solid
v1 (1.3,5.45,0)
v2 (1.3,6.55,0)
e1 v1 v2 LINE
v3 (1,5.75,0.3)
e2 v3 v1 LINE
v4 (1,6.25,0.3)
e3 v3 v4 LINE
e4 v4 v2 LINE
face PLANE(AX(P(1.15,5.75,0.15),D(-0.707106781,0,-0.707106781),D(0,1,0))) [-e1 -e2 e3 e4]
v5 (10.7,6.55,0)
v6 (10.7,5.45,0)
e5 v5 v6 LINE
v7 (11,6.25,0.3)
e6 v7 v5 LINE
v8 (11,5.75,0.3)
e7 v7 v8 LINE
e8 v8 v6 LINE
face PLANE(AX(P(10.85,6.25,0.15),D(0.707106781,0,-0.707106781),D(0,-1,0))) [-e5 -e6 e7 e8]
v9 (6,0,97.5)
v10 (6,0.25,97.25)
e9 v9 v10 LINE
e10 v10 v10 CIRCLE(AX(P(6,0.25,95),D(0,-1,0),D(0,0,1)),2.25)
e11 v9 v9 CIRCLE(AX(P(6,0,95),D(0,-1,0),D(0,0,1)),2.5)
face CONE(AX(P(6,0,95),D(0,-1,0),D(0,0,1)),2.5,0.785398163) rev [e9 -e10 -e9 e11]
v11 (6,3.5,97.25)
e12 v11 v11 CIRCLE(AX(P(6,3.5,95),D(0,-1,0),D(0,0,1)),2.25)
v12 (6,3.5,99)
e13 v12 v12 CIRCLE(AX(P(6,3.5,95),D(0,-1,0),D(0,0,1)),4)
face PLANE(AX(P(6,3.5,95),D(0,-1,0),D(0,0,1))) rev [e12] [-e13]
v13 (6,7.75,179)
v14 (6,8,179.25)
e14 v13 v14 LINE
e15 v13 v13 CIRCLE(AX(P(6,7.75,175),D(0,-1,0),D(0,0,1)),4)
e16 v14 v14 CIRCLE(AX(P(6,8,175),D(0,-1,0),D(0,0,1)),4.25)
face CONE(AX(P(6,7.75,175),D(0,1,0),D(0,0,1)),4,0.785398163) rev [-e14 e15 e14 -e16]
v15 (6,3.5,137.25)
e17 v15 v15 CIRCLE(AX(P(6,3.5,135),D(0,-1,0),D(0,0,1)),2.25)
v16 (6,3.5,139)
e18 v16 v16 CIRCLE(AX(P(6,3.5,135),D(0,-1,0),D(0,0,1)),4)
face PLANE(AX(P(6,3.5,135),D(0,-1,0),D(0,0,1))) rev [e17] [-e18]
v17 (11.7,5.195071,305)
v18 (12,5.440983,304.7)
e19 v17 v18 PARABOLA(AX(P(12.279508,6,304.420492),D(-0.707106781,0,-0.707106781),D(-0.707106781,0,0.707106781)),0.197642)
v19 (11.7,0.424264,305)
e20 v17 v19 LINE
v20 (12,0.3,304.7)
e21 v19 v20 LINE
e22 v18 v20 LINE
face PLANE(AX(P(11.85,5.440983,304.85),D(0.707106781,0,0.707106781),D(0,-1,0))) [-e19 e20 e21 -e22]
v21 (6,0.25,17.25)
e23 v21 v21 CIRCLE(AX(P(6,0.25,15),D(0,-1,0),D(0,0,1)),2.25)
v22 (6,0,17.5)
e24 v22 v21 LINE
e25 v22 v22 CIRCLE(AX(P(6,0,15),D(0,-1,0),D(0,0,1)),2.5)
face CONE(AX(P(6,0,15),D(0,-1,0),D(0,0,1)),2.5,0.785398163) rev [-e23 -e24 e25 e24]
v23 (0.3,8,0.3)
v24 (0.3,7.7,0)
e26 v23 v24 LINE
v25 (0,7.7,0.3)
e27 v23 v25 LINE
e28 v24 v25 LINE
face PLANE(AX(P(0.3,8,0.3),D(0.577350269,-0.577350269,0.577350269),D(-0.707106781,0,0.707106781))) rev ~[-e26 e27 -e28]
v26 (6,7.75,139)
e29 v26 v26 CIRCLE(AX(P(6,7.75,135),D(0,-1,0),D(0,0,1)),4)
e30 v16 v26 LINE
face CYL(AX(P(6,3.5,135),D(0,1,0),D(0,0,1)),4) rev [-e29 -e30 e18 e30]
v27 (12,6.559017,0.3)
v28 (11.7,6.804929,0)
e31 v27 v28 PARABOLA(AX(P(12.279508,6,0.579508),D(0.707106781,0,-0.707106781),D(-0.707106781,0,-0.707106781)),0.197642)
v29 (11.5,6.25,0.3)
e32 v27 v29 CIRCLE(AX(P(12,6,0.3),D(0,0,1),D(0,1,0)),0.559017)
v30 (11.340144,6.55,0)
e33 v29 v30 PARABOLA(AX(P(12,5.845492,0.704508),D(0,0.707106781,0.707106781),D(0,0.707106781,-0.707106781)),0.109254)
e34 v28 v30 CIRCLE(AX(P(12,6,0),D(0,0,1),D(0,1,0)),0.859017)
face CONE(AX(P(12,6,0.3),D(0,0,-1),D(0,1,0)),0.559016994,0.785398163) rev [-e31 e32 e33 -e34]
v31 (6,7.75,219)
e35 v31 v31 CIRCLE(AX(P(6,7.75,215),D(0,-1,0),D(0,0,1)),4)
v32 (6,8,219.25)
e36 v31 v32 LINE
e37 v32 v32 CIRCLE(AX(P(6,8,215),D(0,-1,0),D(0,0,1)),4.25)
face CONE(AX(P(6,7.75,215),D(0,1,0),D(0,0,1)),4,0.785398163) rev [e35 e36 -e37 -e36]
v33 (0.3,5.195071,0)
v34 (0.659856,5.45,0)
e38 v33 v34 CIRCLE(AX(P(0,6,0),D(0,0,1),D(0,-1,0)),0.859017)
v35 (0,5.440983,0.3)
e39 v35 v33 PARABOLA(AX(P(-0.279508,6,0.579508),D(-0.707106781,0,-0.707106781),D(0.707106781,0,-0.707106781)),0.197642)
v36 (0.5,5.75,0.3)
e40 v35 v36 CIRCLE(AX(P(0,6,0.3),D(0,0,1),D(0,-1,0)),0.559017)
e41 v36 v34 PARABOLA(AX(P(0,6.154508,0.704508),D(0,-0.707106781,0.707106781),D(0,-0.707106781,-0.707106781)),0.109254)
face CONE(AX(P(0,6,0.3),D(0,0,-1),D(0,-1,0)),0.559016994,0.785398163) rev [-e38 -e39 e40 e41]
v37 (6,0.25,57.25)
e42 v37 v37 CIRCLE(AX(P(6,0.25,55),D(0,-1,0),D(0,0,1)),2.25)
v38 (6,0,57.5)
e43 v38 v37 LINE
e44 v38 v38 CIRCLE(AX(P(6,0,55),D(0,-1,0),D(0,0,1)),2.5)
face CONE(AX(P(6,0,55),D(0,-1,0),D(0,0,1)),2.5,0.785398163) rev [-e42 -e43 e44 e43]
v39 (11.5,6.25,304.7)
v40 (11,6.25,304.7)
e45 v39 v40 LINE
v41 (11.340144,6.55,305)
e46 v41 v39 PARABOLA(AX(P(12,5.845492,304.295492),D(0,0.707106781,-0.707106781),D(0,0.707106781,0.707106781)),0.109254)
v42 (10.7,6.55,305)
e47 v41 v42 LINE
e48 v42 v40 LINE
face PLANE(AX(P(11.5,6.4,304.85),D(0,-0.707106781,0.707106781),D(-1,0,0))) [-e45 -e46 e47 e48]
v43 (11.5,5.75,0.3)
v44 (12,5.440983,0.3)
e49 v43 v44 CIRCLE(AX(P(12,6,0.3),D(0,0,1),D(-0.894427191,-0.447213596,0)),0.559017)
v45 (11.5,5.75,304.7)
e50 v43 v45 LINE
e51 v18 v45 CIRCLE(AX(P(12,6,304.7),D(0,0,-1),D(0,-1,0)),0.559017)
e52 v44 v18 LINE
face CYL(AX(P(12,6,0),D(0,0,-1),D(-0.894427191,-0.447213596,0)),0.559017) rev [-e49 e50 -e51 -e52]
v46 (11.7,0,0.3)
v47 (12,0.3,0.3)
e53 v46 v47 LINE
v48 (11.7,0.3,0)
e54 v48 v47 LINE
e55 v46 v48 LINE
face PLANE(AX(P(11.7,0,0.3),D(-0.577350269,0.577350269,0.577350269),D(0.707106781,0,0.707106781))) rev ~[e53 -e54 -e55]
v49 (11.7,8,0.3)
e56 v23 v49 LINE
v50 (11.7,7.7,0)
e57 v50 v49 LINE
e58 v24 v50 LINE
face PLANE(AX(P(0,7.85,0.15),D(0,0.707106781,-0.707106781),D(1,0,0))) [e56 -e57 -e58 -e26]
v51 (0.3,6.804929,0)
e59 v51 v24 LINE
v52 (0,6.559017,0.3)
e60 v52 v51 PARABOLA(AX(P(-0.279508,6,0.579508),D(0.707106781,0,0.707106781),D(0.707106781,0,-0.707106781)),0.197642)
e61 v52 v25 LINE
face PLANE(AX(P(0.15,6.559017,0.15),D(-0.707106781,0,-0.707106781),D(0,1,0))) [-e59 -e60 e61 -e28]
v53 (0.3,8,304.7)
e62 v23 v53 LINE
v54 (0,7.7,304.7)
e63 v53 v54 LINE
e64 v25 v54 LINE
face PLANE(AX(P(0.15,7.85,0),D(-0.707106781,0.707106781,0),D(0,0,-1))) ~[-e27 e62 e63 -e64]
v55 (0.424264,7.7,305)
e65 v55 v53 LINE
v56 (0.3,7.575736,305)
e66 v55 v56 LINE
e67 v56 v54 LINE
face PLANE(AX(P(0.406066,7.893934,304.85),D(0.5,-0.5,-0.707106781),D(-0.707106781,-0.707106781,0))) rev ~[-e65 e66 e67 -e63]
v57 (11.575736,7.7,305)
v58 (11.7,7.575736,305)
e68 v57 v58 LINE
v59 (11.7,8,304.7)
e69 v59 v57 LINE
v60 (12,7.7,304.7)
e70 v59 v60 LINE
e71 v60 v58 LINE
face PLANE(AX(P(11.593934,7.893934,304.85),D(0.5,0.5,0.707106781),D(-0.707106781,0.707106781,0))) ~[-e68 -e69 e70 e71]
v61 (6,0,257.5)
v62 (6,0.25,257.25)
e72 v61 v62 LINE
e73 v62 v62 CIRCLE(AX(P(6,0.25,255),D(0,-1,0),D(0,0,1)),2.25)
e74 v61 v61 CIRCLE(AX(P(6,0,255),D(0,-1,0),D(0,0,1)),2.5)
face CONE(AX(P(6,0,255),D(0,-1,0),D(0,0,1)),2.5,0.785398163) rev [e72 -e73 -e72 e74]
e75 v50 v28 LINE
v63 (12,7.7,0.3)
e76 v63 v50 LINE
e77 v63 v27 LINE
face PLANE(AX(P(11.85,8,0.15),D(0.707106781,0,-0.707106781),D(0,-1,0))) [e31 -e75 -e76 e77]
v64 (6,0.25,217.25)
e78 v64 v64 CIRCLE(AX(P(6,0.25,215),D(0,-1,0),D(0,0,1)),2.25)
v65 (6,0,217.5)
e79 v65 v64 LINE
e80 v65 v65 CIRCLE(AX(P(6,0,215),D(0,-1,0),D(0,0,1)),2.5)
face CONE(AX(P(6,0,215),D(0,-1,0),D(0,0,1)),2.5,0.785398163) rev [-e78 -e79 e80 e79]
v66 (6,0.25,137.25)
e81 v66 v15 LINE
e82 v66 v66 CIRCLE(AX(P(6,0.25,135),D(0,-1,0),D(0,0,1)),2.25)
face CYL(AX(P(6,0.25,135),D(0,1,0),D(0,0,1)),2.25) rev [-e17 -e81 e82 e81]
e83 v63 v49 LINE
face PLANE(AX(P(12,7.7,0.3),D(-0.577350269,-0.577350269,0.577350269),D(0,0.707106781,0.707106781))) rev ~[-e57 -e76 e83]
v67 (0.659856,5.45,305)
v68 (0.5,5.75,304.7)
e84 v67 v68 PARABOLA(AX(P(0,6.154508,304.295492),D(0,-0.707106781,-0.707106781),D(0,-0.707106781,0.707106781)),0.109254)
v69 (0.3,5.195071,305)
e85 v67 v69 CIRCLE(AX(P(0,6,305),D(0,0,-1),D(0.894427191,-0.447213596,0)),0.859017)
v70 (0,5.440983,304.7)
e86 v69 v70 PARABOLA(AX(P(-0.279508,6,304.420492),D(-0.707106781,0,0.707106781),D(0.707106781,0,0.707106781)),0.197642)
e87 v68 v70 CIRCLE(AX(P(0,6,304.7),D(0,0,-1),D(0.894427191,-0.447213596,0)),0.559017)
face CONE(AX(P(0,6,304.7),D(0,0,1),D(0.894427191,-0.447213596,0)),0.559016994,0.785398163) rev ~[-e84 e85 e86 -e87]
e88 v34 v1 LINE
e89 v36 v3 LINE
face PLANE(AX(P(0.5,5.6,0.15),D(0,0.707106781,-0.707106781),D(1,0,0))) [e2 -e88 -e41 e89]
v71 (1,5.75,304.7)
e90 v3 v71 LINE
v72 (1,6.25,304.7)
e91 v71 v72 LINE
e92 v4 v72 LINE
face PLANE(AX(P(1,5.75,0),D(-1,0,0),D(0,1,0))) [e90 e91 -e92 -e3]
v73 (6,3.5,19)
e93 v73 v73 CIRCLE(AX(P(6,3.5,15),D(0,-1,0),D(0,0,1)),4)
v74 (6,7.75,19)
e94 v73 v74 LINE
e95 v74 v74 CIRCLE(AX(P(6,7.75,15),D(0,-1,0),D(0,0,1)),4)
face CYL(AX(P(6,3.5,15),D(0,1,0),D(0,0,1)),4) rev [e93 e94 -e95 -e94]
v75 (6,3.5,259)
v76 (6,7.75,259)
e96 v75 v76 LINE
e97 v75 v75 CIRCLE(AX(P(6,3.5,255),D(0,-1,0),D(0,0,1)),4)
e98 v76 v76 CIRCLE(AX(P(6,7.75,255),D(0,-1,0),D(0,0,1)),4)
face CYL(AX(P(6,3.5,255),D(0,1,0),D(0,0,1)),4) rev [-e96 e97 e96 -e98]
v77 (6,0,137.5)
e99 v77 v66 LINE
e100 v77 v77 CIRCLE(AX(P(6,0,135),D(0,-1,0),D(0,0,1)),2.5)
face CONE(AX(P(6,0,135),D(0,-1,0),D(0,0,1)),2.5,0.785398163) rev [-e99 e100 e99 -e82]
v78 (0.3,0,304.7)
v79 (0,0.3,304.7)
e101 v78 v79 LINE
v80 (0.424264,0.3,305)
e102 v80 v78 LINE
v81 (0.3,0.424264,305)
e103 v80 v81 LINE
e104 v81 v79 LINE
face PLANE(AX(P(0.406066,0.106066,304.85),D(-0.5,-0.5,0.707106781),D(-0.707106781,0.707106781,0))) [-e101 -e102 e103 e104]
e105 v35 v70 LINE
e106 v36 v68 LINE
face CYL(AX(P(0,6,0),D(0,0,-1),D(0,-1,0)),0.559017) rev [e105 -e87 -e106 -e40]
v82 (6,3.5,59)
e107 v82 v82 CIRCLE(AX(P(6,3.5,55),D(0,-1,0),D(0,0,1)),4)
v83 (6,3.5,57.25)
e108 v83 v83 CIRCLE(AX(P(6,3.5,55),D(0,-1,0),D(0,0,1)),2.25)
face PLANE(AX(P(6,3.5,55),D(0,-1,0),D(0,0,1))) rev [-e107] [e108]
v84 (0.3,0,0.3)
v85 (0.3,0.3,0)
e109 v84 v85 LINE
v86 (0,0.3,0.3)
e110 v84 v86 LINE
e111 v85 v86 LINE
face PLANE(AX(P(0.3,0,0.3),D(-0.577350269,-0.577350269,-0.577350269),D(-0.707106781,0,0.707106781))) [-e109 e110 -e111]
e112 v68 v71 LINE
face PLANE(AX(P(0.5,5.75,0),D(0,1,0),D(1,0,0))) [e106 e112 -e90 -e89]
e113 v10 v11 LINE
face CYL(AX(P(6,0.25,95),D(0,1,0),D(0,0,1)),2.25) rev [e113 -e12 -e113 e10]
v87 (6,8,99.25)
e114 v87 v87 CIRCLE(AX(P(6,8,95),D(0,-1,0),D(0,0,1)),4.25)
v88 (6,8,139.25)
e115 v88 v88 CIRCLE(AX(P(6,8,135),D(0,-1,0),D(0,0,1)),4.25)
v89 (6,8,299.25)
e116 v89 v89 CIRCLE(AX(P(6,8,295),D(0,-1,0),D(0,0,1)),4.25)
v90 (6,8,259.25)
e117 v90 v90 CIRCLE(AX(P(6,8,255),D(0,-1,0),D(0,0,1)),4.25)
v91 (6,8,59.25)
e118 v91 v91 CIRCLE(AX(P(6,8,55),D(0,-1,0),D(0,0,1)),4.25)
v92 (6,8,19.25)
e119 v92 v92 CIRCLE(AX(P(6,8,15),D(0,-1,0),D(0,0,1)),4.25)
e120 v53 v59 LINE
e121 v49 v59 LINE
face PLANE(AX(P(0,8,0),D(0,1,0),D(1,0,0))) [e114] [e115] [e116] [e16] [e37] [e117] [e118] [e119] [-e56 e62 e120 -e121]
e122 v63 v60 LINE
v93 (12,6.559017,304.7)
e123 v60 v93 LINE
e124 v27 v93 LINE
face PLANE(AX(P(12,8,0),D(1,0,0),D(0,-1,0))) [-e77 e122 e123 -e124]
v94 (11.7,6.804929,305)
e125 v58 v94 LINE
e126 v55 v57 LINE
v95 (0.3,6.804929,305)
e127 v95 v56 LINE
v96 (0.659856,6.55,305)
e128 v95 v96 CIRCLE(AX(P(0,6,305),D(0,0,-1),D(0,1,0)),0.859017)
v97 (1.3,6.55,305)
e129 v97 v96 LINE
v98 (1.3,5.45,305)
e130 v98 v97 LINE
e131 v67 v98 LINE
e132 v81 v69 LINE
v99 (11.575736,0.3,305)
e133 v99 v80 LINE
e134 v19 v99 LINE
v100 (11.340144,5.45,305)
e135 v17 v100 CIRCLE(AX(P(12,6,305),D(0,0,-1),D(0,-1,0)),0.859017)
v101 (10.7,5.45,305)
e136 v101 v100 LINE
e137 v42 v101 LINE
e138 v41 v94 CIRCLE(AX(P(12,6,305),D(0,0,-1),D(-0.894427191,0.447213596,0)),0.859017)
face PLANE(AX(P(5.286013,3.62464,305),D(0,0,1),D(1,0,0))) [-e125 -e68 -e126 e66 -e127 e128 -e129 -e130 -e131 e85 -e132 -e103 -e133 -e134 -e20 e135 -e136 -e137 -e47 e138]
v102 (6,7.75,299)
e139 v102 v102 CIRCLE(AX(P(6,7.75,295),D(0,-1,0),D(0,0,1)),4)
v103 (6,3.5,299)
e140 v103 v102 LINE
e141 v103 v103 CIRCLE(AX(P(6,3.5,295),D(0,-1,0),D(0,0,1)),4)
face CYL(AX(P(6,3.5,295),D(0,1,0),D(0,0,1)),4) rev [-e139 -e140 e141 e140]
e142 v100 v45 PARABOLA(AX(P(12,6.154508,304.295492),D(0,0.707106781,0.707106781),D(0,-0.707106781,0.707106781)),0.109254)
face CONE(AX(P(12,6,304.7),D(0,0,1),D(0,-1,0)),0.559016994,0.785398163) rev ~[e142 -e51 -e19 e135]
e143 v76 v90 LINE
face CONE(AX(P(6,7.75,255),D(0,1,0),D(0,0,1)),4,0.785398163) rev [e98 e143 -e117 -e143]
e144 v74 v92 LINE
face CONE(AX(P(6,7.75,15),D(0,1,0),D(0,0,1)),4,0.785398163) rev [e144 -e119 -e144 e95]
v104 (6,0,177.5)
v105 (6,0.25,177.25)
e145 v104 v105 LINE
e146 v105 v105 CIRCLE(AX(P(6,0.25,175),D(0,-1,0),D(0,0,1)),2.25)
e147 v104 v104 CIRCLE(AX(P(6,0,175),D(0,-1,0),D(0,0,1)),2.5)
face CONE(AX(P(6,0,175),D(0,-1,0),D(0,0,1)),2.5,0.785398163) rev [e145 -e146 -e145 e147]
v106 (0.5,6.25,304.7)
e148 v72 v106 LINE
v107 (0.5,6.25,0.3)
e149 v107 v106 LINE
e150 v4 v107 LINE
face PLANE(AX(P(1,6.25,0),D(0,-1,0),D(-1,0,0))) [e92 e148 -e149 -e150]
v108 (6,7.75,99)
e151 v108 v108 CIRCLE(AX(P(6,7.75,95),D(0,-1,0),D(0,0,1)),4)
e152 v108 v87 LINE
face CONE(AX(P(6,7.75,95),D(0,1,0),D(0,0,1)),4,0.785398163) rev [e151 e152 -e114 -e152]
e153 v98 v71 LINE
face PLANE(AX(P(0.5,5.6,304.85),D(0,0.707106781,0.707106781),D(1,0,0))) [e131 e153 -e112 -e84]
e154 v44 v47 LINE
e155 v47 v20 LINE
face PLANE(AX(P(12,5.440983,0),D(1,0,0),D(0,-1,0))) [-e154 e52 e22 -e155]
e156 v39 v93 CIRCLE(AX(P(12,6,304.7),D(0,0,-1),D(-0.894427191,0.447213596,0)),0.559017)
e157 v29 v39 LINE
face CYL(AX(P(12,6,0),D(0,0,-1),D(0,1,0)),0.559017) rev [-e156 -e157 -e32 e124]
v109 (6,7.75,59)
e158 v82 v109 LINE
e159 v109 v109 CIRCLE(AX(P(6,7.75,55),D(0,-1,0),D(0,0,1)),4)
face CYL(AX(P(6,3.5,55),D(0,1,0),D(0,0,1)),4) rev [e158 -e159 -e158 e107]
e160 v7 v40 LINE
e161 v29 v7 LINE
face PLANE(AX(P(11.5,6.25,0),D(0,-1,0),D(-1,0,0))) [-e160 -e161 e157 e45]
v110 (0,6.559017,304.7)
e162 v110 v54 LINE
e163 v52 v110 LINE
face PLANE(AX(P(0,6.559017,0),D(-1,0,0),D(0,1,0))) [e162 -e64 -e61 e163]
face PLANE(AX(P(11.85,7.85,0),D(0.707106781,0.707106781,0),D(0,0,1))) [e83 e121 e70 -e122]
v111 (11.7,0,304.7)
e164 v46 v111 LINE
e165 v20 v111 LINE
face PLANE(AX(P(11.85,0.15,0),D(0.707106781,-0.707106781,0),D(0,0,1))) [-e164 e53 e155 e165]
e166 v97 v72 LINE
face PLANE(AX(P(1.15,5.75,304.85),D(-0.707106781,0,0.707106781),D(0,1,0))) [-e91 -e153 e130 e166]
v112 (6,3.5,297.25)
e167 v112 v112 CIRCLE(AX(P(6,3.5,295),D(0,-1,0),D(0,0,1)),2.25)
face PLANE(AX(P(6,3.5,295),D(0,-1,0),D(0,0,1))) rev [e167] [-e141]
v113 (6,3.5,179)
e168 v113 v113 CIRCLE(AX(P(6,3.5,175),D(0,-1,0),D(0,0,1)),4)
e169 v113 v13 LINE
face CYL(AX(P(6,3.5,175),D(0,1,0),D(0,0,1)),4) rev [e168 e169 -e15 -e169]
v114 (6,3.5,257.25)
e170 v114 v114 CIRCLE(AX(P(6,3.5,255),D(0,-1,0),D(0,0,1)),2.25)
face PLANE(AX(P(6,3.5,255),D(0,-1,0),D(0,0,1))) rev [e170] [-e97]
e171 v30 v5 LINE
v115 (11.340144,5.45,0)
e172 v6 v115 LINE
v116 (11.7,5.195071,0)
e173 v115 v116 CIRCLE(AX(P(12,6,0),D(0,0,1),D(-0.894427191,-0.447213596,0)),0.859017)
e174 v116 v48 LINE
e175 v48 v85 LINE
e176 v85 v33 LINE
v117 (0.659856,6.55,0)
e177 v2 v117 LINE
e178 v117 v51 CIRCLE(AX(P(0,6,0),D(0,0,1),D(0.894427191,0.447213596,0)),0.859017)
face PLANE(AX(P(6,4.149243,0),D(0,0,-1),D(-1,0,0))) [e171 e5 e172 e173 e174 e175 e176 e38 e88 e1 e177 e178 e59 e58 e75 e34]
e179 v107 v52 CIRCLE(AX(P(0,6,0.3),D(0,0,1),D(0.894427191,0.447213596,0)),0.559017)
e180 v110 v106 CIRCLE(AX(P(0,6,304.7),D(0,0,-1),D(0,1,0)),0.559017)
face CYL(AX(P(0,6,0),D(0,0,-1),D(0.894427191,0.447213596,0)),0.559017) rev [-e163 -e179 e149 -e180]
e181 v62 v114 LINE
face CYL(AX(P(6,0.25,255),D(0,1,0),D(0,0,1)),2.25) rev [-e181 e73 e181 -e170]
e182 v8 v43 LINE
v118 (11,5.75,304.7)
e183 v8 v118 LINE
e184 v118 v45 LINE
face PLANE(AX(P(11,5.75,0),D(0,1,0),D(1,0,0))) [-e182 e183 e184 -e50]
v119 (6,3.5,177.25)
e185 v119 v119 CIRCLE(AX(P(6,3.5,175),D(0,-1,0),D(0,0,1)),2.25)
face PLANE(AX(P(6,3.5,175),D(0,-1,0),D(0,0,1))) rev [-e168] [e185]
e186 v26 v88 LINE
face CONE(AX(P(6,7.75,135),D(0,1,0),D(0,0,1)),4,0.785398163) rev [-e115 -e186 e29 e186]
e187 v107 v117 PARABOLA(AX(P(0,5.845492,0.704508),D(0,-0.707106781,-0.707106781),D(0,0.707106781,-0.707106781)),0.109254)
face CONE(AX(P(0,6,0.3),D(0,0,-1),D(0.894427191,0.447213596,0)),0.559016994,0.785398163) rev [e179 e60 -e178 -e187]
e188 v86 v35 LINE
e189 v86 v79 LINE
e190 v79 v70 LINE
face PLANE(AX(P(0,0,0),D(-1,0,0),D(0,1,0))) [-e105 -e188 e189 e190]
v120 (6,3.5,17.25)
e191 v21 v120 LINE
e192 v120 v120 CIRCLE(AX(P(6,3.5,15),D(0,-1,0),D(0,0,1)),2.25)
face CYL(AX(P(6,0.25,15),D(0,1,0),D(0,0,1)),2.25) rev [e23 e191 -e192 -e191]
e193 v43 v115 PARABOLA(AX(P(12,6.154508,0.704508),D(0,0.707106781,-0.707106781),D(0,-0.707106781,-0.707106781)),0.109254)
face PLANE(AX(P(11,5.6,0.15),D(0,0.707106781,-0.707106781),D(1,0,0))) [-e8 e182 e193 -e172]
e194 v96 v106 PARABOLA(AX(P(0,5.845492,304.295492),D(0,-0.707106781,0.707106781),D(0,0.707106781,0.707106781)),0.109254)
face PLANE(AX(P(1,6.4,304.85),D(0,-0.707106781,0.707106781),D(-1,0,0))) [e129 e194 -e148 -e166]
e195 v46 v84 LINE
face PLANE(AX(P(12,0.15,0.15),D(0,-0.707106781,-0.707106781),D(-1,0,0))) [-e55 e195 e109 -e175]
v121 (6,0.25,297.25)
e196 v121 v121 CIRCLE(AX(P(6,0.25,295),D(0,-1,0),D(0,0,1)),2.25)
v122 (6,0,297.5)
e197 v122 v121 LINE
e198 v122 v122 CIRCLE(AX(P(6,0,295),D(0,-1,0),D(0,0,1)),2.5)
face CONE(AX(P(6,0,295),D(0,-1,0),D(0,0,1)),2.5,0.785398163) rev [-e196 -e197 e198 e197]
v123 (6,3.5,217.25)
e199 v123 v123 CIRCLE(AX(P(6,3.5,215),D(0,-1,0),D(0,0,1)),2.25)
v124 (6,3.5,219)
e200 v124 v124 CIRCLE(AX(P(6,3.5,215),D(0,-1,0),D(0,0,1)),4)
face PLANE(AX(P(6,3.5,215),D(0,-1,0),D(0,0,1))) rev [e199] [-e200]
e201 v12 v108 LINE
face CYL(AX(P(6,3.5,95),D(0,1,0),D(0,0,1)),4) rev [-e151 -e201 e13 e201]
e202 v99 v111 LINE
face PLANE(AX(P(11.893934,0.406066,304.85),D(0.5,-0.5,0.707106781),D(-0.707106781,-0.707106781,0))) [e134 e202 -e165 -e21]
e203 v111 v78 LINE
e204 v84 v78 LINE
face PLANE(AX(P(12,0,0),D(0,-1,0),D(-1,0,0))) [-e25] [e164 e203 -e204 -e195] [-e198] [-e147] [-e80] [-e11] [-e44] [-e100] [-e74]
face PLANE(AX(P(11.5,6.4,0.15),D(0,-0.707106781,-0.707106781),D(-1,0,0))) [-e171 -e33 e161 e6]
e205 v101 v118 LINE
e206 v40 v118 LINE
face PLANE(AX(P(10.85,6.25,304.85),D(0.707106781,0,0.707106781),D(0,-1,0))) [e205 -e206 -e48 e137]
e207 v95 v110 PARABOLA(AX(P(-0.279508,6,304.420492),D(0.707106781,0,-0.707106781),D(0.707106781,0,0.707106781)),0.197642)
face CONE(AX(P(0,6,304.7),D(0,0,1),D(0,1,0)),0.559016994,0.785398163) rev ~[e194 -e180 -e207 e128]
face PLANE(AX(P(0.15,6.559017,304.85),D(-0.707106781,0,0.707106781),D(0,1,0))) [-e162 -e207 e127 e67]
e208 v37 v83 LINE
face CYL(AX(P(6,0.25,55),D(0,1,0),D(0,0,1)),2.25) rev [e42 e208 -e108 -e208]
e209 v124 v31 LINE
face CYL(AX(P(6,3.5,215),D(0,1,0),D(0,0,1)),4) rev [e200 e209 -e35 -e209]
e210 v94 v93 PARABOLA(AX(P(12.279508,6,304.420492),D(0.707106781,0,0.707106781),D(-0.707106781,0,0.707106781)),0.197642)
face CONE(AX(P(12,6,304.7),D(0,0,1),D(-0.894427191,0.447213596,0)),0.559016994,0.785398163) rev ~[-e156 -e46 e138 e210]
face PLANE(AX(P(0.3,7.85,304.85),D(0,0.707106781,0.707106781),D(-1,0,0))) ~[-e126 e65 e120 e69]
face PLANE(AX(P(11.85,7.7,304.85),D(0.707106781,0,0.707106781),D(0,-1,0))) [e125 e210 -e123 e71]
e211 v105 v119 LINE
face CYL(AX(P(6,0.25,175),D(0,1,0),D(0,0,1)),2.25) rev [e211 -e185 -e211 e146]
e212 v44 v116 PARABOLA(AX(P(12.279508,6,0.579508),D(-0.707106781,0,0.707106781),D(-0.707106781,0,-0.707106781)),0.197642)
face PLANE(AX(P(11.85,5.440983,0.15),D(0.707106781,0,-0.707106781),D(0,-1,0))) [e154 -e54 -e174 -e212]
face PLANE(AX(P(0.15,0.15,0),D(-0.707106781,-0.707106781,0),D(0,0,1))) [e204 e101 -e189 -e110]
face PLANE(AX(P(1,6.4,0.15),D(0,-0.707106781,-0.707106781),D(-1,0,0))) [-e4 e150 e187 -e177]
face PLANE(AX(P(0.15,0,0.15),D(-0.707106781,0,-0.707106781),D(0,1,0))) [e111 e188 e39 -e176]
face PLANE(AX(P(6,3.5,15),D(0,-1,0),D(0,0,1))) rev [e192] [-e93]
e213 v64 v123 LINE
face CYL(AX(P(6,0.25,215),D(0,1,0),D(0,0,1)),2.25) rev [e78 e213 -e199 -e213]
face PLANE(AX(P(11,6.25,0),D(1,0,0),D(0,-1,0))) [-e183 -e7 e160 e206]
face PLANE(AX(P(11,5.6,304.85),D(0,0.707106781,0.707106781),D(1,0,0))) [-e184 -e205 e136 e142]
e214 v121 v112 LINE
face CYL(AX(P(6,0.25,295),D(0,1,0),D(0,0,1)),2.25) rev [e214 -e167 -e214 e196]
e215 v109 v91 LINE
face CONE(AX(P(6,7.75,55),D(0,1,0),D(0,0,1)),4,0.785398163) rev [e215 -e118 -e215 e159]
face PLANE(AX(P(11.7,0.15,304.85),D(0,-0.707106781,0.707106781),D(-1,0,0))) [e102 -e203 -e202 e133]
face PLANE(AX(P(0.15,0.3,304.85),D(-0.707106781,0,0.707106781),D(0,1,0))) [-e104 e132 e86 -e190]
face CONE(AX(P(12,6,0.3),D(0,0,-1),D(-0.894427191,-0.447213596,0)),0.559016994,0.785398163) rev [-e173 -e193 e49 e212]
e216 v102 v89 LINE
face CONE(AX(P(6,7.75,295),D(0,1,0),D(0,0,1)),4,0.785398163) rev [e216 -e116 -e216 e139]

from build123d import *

# Parameters (mm, degrees)
BOSS_EXTRUDE1_DEPTH   = 470
CHAMFER1_SIZE         = 0.3
LPATTERN1_COUNT       = 12
LPATTERN1_PITCH       = 40
CROQUIS1_W            = 18.891255934
CROQUIS1_H            = 12.405534969
CORTAR_EXTRUIR2_DEPTH = 165
CHAFL_N1_SIZE         = 0.3


with BuildPart() as part:
    # Sketch1 → Boss-Extrude1 (new body)
    with BuildSketch(Plane.XY):
        with BuildLine():
            Line((0, 8), (12, 8))
            Line((12, 8), (12, 6.75))
            Line((12, 6.75), (12, 6.559016994))
            ThreePointArc((12, 6.559016994), (11.706107374, 6.475528258), (11.5, 6.25))
            Line((11.5, 6.25), (11, 6.25))
            Line((11, 6.25), (11, 5.75))
            Line((11, 5.75), (11.5, 5.75))
            ThreePointArc((11.5, 5.75), (11.706107374, 5.524471742), (12, 5.440983006))
            Line((12, 5.440983006), (12, 5.25))
            Line((12, 5.25), (12, 0))
            Line((12, 0), (0, 0))
            Line((0, 0), (0, 5.25))
            Line((0, 5.25), (0, 5.440983006))
            ThreePointArc((0, 5.440983006), (0.293892626, 5.524471742), (0.5, 5.75))
            Line((0.5, 5.75), (1, 5.75))
            Line((1, 5.75), (1, 6.25))
            Line((1, 6.25), (0.5, 6.25))
            ThreePointArc((0.5, 6.25), (0.293892626, 6.475528258), (0, 6.559016994))
            Line((0, 6.559016994), (0, 6.75))
            Line((0, 6.75), (0, 8))
        make_face()
    extrude(amount=BOSS_EXTRUDE1_DEPTH)

    # Chamfer1
    chamfer1_edges = [part.edges().sort_by_distance(p)[0] for p in [
        (12, 2.720491503, 470),
        (11.706107374, 5.524471742, 470),
        (0, 2.720491503, 0),
        (0.293892626, 5.524471742, 0),
        (0.75, 5.75, 0),
        (1, 6, 0),
        (0.75, 6.25, 0),
        (11.25, 5.75, 470),
        (0.293892626, 6.475528258, 0),
        (0, 7.279508497, 0),
        (6, 8, 0),
        (12, 7.279508497, 0),
        (11.706107374, 6.475528258, 0),
        (11, 6, 470),
        (11.25, 6.25, 0),
        (11, 6, 0),
        (11.25, 5.75, 0),
        (11.706107374, 5.524471742, 0),
        (12, 2.720491503, 0),
        (6, 0, 0),
        (11.25, 6.25, 470),
        (11.706107374, 6.475528258, 470),
        (12, 7.279508497, 470),
        (0, 8, 235),
        (12, 8, 235),
        (12, 0, 235),
        (0, 0, 235),
        (6, 8, 470),
        (0, 2.720491503, 470),
        (0, 7.279508497, 470),
        (0.293892626, 6.475528258, 470),
        (0.75, 6.25, 470),
        (1, 6, 470),
        (0.75, 5.75, 470),
        (0.293892626, 5.524471742, 470),
        (6, 0, 470),
    ]]
    chamfer(chamfer1_edges, length=CHAMFER1_SIZE)

    # Sketch3 → CBORE for M5 Hex Head Bolt1 (revolve, cut)
    with BuildSketch(Plane(origin=(6, 8, 15), x_dir=(0, 0, 1), z_dir=(1, 0, 0))):
        Polygon((0, 0), (0, 8), (2.5, 8), (2.25, 7.75), (2.25, 4.5), (4, 4.5), (4, 0.25), (4.25, 0), align=None)
    cbore_for_m5_hex_head_bolt1 = revolve(axis=Axis((6, 14.35, 15), (0, -1, 0)), mode=Mode.SUBTRACT)

    # LPattern1: CBORE for M5 Hex Head Bolt1 ×12
    with Locations(*[(0, 0, i * LPATTERN1_PITCH) for i in range(1, LPATTERN1_COUNT)]):
        add(cbore_for_m5_hex_head_bolt1, mode=Mode.SUBTRACT)

    # Croquis1 → Cortar-Extruir2 (cut)
    with BuildSketch(Plane.XY.offset(470)):
        with Locations((5.286012754, 3.624640076)):
            Rectangle(CROQUIS1_W, CROQUIS1_H)
    extrude(amount=-CORTAR_EXTRUIR2_DEPTH, mode=Mode.SUBTRACT)

    # Chaflán1
    chafl_n1_edges = [part.edges().sort_by_distance(p)[0] for p in [
        (0.15, 0.15, 305),
        (11.85, 0.15, 305),
        (0.15, 7.85, 305),
        (11.85, 7.85, 305),
        (12, 2.870491503, 305),
        (11.706107374, 5.524471742, 305),
        (11.25, 5.75, 305),
        (11, 6, 305),
        (11.25, 6.25, 305),
        (11.706107374, 6.475528258, 305),
        (12, 7.129508497, 305),
        (6, 8, 305),
        (0, 7.129508497, 305),
        (0.293892626, 6.475528258, 305),
        (0.75, 6.25, 305),
        (1, 6, 305),
        (0.75, 5.75, 305),
        (0.293892626, 5.524471742, 305),
        (0, 2.870491503, 305),
        (6, 0, 305),
    ]]
    chamfer(chafl_n1_edges, length=CHAFL_N1_SIZE)


solid = part.part
